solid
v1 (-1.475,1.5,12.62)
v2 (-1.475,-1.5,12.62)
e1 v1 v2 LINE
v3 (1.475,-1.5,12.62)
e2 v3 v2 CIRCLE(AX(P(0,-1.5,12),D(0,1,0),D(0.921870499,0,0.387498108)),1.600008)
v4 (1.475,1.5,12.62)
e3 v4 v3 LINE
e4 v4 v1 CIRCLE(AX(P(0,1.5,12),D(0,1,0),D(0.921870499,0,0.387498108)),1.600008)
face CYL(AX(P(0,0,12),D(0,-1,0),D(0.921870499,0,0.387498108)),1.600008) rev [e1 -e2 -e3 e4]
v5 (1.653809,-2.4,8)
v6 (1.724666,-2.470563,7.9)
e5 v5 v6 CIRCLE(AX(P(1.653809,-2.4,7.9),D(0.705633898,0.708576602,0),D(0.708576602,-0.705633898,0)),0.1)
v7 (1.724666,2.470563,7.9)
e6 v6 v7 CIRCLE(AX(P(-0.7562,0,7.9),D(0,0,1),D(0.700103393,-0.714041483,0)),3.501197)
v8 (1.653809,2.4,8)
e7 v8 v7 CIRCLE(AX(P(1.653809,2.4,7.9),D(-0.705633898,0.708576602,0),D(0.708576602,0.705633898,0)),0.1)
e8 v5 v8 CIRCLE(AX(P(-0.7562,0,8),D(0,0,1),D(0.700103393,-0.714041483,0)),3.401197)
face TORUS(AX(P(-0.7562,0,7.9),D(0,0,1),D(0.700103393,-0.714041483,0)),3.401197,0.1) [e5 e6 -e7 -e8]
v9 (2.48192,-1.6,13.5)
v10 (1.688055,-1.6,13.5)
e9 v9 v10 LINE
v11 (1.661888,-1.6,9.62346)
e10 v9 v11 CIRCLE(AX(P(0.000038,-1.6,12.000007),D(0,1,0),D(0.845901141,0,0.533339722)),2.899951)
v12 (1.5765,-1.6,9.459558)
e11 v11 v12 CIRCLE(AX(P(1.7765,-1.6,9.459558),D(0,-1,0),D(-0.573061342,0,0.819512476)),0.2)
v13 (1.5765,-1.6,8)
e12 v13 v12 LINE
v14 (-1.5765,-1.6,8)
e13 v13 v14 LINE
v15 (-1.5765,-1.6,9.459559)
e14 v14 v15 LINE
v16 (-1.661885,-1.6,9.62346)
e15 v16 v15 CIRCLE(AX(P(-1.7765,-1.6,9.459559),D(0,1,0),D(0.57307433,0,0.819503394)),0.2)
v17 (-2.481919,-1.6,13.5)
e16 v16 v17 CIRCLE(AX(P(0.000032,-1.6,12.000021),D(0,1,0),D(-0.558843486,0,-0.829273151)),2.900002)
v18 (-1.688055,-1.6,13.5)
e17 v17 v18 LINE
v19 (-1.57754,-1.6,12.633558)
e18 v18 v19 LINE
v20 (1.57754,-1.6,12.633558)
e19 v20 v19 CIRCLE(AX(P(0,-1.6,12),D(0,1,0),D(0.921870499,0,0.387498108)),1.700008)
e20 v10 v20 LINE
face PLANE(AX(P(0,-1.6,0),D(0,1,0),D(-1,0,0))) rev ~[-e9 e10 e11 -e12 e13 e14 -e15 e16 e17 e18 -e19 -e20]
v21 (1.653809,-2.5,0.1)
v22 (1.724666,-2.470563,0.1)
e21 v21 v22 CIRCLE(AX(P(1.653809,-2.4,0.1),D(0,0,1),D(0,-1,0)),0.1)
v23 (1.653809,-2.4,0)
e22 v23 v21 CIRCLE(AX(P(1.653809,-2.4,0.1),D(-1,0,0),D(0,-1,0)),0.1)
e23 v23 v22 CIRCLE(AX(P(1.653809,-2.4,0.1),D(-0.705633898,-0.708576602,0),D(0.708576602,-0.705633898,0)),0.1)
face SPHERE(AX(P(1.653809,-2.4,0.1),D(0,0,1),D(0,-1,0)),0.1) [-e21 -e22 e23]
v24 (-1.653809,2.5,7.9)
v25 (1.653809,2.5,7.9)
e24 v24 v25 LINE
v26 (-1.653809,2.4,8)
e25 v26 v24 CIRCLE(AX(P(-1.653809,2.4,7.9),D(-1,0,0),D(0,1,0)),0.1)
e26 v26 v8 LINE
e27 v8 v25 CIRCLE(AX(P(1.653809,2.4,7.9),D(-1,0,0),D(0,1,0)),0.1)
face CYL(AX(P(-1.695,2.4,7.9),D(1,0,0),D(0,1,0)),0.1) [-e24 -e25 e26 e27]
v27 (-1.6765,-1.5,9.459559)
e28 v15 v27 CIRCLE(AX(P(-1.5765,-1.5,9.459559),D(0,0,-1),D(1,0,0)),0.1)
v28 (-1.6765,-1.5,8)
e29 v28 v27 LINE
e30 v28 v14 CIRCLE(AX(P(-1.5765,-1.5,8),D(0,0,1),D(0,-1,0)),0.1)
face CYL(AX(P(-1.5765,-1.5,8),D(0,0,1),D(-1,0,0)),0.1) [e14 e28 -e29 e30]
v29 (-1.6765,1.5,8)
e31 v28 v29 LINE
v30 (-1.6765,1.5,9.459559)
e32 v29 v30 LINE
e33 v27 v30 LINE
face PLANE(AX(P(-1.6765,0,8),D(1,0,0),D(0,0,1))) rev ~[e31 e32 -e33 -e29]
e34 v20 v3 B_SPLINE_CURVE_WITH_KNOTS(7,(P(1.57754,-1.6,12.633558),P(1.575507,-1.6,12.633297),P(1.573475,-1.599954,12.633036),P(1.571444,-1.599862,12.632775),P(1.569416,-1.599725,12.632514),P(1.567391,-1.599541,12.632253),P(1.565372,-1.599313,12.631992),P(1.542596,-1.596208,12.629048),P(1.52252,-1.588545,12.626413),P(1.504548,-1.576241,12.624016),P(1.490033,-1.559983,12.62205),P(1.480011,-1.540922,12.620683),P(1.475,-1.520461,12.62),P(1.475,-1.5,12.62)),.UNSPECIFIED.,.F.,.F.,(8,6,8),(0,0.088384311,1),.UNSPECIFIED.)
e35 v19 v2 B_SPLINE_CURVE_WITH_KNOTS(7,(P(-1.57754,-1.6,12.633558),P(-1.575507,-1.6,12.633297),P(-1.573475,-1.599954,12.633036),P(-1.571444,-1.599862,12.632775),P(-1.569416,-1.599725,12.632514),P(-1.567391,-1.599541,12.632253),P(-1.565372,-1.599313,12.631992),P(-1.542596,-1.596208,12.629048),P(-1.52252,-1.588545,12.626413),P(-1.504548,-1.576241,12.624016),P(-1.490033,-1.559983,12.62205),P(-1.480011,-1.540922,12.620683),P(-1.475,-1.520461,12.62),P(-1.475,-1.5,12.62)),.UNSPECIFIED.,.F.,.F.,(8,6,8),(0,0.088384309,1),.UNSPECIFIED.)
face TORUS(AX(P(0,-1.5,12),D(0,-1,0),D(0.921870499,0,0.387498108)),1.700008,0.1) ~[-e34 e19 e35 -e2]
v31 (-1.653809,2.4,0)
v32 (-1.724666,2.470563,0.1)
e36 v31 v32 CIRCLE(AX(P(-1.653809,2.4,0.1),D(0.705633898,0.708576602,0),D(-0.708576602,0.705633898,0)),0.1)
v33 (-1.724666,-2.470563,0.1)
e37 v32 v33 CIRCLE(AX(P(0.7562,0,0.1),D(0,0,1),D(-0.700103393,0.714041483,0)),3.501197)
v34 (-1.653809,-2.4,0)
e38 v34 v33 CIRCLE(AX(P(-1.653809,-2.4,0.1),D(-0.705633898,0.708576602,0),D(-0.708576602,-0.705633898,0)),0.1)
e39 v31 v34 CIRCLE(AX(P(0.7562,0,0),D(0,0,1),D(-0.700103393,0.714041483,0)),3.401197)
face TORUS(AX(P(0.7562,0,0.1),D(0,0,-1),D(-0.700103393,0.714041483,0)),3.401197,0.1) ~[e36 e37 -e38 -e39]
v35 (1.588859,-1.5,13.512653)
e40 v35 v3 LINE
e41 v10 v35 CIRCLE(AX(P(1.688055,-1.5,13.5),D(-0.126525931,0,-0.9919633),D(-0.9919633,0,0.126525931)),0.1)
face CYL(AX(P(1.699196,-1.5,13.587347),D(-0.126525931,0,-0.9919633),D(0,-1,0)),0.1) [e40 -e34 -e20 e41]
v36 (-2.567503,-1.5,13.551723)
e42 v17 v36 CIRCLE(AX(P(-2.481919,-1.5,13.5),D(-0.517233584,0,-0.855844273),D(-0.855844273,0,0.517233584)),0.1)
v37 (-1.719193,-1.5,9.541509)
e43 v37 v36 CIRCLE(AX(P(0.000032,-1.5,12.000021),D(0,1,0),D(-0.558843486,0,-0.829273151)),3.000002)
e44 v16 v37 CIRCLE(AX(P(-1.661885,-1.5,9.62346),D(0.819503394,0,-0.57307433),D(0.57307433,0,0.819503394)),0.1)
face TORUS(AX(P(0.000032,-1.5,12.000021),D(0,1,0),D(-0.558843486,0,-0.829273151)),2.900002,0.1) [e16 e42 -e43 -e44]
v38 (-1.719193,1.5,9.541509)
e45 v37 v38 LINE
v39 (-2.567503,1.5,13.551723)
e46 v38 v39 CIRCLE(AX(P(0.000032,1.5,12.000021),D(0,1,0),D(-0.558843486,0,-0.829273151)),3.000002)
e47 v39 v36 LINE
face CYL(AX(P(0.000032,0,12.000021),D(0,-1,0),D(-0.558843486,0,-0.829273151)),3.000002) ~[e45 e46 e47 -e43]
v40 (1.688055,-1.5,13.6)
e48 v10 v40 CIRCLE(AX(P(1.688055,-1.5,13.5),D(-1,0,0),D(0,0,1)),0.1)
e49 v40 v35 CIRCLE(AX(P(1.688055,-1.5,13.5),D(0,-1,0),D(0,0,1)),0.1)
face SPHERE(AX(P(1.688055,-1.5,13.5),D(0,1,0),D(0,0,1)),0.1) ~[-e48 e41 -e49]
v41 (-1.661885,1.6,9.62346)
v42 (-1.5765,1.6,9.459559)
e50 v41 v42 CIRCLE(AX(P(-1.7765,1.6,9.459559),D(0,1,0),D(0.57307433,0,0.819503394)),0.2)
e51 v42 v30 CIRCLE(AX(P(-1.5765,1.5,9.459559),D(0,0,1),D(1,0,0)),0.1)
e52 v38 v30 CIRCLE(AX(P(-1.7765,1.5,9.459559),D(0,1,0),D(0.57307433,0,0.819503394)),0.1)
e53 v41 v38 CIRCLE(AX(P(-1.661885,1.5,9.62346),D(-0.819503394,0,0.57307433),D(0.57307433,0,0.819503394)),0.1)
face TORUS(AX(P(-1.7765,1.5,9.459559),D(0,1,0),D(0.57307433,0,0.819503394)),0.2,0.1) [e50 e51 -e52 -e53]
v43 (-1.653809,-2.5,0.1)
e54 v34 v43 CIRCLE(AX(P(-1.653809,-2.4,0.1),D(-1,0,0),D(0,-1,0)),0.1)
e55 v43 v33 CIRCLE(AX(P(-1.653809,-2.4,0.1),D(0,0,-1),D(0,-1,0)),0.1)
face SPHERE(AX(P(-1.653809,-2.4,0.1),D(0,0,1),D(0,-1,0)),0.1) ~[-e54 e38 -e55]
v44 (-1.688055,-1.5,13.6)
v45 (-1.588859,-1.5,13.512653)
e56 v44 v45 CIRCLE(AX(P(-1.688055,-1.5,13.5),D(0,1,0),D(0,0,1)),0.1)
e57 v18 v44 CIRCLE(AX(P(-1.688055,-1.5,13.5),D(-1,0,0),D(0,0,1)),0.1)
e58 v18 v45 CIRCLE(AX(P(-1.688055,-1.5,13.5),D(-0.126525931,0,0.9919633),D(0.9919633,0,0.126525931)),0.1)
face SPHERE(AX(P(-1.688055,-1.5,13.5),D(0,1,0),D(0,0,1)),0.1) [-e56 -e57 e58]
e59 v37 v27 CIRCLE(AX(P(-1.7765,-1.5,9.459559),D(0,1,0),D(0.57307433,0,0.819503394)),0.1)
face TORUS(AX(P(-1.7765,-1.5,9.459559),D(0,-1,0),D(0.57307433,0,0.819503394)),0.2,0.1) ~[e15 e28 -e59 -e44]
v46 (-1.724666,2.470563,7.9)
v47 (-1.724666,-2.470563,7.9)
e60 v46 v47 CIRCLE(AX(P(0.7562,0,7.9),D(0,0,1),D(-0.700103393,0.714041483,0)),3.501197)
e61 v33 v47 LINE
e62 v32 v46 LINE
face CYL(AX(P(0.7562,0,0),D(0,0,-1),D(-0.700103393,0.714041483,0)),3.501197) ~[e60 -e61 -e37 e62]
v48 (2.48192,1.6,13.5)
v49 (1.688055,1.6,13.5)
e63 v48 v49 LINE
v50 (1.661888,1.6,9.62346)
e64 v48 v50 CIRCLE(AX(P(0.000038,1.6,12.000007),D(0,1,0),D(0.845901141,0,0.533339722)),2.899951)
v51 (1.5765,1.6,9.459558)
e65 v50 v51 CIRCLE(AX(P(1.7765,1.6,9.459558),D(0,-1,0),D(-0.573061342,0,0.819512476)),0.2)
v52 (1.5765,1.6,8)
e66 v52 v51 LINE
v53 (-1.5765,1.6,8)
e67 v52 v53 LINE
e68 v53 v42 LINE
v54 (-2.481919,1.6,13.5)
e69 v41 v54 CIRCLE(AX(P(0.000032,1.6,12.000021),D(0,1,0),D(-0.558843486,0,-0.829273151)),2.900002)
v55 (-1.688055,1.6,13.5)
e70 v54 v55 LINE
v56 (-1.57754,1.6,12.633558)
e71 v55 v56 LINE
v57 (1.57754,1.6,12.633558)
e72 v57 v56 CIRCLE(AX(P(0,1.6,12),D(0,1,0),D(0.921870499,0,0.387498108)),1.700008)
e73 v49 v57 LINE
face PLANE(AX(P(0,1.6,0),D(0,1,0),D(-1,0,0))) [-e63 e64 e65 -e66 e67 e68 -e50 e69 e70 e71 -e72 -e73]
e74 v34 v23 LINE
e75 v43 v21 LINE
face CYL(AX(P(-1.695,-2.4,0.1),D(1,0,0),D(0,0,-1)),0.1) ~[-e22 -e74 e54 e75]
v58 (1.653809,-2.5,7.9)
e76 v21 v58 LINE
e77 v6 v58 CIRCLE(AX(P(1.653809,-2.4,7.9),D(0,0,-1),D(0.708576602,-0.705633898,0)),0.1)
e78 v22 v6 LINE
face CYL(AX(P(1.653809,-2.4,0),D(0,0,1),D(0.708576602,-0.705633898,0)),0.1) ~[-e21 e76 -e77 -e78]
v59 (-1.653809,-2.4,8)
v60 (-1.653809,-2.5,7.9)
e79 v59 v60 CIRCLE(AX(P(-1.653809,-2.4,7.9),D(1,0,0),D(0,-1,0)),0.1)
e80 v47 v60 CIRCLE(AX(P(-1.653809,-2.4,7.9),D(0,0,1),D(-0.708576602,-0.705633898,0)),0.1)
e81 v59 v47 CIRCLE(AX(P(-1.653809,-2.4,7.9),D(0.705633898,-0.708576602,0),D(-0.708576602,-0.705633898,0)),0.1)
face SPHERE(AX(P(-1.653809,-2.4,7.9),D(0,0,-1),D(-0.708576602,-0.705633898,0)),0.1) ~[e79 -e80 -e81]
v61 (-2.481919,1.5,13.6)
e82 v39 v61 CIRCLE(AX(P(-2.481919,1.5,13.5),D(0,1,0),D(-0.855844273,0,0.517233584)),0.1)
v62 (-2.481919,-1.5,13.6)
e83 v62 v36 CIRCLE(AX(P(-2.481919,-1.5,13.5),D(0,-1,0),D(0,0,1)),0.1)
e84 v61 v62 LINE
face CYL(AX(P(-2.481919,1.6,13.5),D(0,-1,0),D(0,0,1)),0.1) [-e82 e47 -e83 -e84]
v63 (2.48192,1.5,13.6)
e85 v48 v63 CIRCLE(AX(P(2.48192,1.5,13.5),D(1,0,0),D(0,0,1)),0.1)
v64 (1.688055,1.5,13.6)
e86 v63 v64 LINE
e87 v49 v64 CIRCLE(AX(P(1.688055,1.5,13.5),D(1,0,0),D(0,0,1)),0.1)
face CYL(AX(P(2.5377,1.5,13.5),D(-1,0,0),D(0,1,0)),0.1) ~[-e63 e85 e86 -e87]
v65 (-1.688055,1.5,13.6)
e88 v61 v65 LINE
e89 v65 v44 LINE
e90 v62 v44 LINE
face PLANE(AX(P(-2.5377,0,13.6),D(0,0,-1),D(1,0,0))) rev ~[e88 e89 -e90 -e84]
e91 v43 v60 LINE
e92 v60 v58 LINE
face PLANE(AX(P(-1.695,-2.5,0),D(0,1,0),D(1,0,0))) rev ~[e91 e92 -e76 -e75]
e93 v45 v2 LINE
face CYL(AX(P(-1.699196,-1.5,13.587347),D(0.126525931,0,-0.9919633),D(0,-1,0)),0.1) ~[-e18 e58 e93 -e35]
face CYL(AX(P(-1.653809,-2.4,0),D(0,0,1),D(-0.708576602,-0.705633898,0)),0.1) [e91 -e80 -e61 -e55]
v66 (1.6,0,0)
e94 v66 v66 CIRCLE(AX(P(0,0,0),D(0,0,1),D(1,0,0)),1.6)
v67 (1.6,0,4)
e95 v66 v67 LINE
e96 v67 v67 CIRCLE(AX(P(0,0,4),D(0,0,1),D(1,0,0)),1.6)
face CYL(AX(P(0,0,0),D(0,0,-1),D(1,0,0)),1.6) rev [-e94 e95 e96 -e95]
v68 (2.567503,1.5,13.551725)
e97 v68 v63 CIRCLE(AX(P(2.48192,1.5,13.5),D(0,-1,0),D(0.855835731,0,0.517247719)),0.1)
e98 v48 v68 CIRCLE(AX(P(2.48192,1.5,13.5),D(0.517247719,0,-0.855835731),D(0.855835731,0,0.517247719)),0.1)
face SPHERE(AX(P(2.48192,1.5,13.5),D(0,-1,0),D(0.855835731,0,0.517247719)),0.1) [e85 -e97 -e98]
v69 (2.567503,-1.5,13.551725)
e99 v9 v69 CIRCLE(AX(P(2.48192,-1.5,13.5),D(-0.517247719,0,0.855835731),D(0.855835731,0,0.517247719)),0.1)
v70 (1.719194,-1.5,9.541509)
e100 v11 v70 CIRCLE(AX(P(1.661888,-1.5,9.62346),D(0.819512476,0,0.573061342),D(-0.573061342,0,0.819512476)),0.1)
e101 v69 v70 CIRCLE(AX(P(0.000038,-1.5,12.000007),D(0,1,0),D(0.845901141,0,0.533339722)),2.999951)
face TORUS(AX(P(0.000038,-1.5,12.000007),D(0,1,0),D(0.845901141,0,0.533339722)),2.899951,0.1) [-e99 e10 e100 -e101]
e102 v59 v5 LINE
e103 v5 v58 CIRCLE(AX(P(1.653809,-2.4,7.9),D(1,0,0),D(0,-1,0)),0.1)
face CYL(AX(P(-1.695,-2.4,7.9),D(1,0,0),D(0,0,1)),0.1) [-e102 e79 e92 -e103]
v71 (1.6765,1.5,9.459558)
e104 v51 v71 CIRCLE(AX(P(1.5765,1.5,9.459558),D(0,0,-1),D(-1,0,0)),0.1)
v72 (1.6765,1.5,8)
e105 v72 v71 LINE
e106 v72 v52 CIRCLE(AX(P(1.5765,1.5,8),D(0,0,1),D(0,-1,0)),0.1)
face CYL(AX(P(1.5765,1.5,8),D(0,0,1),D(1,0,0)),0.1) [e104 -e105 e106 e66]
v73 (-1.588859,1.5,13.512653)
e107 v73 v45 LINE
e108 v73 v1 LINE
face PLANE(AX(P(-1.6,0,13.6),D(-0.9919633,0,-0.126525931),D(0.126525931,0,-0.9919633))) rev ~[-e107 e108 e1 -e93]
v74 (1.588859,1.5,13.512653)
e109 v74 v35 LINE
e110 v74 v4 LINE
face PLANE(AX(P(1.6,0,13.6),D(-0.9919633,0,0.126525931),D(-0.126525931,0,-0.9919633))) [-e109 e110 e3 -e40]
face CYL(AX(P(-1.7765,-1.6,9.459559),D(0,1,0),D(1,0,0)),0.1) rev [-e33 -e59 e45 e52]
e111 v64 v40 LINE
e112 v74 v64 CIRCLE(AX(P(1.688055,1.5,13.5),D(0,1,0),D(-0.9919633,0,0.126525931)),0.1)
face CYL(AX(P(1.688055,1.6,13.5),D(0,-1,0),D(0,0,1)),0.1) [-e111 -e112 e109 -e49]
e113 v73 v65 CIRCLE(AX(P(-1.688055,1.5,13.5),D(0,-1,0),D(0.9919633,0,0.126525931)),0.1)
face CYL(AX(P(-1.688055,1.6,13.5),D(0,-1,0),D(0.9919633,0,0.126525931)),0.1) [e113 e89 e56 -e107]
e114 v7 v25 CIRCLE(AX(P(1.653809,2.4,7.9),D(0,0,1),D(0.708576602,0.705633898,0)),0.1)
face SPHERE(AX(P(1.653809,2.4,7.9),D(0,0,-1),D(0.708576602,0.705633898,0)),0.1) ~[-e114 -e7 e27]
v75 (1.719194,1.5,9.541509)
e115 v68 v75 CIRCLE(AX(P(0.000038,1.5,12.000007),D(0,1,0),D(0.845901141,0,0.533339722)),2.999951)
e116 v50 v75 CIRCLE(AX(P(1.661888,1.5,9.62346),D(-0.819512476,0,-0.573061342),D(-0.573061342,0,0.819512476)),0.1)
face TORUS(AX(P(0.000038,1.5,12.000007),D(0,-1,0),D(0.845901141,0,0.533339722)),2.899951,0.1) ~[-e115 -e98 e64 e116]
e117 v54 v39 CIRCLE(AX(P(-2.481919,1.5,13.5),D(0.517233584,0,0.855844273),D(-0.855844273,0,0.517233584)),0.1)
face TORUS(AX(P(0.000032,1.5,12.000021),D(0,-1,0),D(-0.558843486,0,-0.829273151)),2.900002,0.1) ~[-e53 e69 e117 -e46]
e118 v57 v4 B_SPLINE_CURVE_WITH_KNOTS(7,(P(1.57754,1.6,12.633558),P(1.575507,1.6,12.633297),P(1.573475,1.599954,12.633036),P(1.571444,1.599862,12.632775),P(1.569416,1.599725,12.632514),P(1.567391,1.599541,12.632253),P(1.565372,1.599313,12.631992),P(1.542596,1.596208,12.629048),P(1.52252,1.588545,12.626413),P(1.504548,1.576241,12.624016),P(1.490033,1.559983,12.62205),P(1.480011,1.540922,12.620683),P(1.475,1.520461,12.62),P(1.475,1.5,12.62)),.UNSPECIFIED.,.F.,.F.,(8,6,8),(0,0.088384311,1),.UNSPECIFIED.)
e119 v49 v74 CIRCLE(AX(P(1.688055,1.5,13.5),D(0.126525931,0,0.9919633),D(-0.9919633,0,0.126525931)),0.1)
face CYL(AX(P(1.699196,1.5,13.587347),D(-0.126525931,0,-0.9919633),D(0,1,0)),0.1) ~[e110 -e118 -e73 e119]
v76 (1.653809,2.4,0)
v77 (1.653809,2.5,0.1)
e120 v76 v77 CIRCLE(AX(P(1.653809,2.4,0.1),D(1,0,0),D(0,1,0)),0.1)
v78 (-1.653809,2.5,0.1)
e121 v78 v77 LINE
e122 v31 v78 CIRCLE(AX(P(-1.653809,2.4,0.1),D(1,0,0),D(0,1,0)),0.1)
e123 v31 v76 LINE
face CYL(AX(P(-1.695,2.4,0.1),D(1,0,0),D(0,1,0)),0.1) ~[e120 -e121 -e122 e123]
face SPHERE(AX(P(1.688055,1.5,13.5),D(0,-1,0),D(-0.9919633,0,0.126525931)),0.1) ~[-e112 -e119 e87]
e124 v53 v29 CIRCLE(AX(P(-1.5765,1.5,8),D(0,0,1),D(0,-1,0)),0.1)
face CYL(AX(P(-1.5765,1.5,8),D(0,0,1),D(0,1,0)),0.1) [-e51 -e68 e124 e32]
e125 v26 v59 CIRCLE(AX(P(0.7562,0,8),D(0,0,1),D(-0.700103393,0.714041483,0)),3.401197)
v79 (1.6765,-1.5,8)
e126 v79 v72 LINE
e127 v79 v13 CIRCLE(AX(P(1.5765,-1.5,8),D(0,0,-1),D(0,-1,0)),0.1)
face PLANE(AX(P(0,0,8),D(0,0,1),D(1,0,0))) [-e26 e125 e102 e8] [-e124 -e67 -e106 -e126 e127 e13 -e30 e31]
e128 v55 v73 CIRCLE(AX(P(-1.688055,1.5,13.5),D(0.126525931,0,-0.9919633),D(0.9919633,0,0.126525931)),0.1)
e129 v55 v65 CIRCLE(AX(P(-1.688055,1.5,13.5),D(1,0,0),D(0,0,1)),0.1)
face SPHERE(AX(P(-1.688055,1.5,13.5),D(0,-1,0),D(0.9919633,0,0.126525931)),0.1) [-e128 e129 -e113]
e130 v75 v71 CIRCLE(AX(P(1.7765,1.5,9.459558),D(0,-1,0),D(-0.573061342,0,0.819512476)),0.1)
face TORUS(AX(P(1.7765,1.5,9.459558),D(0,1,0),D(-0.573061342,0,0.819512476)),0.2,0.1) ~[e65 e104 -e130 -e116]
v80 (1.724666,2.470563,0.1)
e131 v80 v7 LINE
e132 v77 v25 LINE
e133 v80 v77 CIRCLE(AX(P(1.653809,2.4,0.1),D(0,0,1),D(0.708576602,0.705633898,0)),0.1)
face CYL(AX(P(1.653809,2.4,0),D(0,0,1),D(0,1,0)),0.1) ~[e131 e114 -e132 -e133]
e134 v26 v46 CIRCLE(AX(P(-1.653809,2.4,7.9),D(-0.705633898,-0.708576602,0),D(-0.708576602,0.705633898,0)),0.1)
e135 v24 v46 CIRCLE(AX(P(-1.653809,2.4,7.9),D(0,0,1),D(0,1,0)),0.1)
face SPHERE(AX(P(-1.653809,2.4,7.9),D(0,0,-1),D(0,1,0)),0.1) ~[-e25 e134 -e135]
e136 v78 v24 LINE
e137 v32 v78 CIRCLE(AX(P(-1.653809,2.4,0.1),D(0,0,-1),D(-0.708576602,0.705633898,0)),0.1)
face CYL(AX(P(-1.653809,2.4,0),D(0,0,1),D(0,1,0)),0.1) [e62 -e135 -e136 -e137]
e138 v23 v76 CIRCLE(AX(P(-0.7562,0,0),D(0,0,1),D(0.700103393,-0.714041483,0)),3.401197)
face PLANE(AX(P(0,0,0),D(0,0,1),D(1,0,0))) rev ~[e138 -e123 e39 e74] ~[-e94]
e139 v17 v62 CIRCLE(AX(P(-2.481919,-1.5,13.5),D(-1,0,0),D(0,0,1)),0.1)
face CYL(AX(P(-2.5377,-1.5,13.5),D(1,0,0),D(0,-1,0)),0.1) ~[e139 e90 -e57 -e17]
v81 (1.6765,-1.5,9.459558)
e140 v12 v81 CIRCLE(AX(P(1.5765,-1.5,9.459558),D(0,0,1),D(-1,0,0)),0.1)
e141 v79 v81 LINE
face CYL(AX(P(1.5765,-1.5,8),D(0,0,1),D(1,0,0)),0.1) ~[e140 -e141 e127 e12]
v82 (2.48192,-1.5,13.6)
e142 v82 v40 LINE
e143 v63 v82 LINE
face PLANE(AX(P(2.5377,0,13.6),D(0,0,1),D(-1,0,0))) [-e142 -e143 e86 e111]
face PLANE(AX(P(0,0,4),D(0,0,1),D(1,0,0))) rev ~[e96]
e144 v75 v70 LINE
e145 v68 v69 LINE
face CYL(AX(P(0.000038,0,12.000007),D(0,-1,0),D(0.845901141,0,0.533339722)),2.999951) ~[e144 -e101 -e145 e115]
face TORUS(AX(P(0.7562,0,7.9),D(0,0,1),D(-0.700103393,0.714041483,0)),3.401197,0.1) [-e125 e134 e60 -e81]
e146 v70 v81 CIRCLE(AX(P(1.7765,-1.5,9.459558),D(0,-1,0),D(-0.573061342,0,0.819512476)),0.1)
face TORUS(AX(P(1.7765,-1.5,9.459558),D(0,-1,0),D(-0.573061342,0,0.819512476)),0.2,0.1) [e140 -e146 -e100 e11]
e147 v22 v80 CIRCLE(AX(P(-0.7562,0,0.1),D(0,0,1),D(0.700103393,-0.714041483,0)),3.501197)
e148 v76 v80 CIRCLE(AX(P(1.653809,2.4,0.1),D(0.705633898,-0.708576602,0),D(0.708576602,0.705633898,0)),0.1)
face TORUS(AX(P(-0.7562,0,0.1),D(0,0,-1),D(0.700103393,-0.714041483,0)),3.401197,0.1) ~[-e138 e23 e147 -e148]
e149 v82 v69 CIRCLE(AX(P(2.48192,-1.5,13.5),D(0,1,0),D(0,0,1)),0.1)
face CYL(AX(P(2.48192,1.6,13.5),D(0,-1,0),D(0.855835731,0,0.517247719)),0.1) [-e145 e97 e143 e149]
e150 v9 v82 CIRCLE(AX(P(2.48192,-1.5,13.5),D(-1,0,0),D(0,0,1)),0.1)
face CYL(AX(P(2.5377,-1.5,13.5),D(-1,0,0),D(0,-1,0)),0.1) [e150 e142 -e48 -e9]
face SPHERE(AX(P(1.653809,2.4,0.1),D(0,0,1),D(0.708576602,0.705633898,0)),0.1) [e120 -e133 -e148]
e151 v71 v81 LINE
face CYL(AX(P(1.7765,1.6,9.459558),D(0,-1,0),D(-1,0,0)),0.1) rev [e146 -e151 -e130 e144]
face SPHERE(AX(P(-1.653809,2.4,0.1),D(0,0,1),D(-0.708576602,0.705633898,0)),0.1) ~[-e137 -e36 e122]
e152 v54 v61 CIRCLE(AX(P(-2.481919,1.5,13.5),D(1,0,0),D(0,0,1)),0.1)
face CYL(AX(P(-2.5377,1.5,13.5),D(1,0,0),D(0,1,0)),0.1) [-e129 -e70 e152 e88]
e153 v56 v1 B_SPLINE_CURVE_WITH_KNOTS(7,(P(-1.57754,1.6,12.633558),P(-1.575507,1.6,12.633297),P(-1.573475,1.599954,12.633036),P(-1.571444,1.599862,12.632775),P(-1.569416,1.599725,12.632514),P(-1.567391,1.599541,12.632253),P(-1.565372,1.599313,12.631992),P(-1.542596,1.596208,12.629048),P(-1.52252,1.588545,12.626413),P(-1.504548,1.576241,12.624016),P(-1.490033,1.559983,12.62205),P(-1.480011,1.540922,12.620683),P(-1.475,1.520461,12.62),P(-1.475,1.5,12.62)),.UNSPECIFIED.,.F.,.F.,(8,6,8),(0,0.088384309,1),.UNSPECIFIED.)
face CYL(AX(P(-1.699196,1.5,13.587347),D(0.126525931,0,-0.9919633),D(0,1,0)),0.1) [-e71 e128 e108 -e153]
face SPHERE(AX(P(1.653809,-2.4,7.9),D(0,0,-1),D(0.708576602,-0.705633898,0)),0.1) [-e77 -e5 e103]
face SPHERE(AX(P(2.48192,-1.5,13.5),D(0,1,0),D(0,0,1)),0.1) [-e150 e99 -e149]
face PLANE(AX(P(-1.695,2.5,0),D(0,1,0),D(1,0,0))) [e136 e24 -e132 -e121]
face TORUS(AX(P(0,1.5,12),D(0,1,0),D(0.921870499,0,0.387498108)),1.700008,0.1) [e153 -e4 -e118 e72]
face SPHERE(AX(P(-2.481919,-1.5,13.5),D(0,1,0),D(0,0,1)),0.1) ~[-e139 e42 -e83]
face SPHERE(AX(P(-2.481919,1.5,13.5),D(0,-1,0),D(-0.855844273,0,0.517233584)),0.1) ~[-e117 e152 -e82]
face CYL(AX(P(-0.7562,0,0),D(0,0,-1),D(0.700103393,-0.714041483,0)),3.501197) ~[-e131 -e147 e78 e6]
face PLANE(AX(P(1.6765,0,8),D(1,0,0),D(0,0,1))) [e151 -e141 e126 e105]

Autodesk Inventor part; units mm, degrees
ref_plane "YZ Plane" through (0, 0, 0) normal (1, 0, 0) x (0, 1, 0)
ref_plane "XZ Plane" through (0, 0, 0) normal (0, 1, 0) x (-1, 0, 0)
ref_plane "XY Plane" through (0, 0, 0) normal (0, 0, 1) x (1, 0, 0)
sketch "Sketch2" plane through (0, 0, 0) normal (0, 0, 1) x (1, 0, 0)
  line L0 (-1.695, 2.5) -> (1.695, 2.5)
  line L1 (-1.695, -2.5) -> (1.695, -2.5)
  arc A0 (1.695, -2.5) -> (1.695, 2.5) centre (-0.7562, 0) ccw
  arc A1 (-1.695, 2.5) -> (-1.695, -2.5) centre (0.7562, 0) ccw
  circle A2 centre (0, 0) radius 1.6
  line L2 (-0.7562, 0) -> (0.7562, 0) construction
  dimension "d0" = 5
  dimension "d2" = 3.2
  dimension "d7" = 3.39
  dimension "d9" = 5.49
extrude "Extrusion1" add sketch "Sketch2" along normal blind 8 contours L0 A0 L1 A1 | A2
extrude "Extrusion2" cut sketch "Sketch2" along normal blind 4 contours A2
sketch "Sketch3" plane through (0, 0, 0) normal (0, 1, 0) x (-1, 0, 0)
  line L0 (-1.695, 8) -> (1.695, 8) construction
  line L1 (-1.6765, 8) -> (1.6765, 8)
  line L2 (1.6765, 8) -> (1.6765, 9.5122)
  line L3 (-1.6765, 8) -> (-1.6765, 9.5122)
  arc A0 (-2.5377, 13.6) -> (-1.6765, 9.5122) centre (0, 12) ccw
  arc A1 (1.6765, 9.5122) -> (2.5377, 13.6) centre (0, 12) ccw
  line L4 (-2.5377, 13.6) -> (-1.6, 13.6)
  line L5 (-1.6, 13.6) -> (-1.475, 12.62)
  line L6 (2.5377, 13.6) -> (1.6, 13.6)
  line L7 (1.6, 13.6) -> (1.475, 12.62)
  arc A2 (-1.475, 12.62) -> (1.475, 12.62) centre (0, 12) ccw
  point P0 (0, 0)
  point P1 (0, 8)
  dimension "d10" = 3.2
  dimension "d11" = 2.95
  dimension "d12" = 3.2
  dimension "d13" = 5.6
  dimension "d14" = 4
  dimension "d16" = 3.353
  dimension "d17" = 6
extrude "Extrusion3" add sketch "Sketch3" along normal mid plane 3.2
fillet "Fillet1" radius 0.1 36 edges at (-1.5375, 1.6, 13.11) (-2.0689, 1.6, 13.6) (-2.5377, 0, 13.6) (-1.6, 0, 13.6) (-2.0689, -1.6, 13.6) (-2.9356, 1.6, 11.3815) (-2.9356, -1.6, 11.3815) (0, 1.6, 10.4) (0, -1.6, 10.4) (-1.5375, -1.6, 13.11) (1.5375, -1.6, 13.11) (1.6, 0, 13.6) (1.5375, 1.6, 13.11) (2.0689, 1.6, 13.6) (2.5377, 0, 13.6) (2.9356, 1.6, 11.3815) (2.0689, -1.6, 13.6) (2.9356, -1.6, 11.3815) (1.6765, 1.6, 8.7561) (-1.6765, 1.6, 8.7561) (-1.695, 2.5, 4) (1.6765, -1.6, 8.7561) (2.745, 0, 8) (0, 2.5, 8) (-2.745, 0, 8) (1.695, 2.5, 4) (0, -2.5, 8) (-1.6765, -1.6, 8.7561) (-1.695, -2.5, 4) (1.695, -2.5, 4) (0, -2.5, 0) (-2.745, 0, 0) (2.745, 0, 0) (0, 2.5, 0) (1.6765, 0, 9.5122) (-1.6765, 0, 9.5122)
equation "\"d2\" = rd"
equation "\"d3\" = lu"
equation "\"d5\" = 0.5 * lu"
equation "\"d10\" = rd"
equation "\"d12\" = rd"
equation "\"rd\" = 3.2"
equation "\"lu\" = 8"
properties part number "44873-LtBluishGray" material "ABS Plastic"
